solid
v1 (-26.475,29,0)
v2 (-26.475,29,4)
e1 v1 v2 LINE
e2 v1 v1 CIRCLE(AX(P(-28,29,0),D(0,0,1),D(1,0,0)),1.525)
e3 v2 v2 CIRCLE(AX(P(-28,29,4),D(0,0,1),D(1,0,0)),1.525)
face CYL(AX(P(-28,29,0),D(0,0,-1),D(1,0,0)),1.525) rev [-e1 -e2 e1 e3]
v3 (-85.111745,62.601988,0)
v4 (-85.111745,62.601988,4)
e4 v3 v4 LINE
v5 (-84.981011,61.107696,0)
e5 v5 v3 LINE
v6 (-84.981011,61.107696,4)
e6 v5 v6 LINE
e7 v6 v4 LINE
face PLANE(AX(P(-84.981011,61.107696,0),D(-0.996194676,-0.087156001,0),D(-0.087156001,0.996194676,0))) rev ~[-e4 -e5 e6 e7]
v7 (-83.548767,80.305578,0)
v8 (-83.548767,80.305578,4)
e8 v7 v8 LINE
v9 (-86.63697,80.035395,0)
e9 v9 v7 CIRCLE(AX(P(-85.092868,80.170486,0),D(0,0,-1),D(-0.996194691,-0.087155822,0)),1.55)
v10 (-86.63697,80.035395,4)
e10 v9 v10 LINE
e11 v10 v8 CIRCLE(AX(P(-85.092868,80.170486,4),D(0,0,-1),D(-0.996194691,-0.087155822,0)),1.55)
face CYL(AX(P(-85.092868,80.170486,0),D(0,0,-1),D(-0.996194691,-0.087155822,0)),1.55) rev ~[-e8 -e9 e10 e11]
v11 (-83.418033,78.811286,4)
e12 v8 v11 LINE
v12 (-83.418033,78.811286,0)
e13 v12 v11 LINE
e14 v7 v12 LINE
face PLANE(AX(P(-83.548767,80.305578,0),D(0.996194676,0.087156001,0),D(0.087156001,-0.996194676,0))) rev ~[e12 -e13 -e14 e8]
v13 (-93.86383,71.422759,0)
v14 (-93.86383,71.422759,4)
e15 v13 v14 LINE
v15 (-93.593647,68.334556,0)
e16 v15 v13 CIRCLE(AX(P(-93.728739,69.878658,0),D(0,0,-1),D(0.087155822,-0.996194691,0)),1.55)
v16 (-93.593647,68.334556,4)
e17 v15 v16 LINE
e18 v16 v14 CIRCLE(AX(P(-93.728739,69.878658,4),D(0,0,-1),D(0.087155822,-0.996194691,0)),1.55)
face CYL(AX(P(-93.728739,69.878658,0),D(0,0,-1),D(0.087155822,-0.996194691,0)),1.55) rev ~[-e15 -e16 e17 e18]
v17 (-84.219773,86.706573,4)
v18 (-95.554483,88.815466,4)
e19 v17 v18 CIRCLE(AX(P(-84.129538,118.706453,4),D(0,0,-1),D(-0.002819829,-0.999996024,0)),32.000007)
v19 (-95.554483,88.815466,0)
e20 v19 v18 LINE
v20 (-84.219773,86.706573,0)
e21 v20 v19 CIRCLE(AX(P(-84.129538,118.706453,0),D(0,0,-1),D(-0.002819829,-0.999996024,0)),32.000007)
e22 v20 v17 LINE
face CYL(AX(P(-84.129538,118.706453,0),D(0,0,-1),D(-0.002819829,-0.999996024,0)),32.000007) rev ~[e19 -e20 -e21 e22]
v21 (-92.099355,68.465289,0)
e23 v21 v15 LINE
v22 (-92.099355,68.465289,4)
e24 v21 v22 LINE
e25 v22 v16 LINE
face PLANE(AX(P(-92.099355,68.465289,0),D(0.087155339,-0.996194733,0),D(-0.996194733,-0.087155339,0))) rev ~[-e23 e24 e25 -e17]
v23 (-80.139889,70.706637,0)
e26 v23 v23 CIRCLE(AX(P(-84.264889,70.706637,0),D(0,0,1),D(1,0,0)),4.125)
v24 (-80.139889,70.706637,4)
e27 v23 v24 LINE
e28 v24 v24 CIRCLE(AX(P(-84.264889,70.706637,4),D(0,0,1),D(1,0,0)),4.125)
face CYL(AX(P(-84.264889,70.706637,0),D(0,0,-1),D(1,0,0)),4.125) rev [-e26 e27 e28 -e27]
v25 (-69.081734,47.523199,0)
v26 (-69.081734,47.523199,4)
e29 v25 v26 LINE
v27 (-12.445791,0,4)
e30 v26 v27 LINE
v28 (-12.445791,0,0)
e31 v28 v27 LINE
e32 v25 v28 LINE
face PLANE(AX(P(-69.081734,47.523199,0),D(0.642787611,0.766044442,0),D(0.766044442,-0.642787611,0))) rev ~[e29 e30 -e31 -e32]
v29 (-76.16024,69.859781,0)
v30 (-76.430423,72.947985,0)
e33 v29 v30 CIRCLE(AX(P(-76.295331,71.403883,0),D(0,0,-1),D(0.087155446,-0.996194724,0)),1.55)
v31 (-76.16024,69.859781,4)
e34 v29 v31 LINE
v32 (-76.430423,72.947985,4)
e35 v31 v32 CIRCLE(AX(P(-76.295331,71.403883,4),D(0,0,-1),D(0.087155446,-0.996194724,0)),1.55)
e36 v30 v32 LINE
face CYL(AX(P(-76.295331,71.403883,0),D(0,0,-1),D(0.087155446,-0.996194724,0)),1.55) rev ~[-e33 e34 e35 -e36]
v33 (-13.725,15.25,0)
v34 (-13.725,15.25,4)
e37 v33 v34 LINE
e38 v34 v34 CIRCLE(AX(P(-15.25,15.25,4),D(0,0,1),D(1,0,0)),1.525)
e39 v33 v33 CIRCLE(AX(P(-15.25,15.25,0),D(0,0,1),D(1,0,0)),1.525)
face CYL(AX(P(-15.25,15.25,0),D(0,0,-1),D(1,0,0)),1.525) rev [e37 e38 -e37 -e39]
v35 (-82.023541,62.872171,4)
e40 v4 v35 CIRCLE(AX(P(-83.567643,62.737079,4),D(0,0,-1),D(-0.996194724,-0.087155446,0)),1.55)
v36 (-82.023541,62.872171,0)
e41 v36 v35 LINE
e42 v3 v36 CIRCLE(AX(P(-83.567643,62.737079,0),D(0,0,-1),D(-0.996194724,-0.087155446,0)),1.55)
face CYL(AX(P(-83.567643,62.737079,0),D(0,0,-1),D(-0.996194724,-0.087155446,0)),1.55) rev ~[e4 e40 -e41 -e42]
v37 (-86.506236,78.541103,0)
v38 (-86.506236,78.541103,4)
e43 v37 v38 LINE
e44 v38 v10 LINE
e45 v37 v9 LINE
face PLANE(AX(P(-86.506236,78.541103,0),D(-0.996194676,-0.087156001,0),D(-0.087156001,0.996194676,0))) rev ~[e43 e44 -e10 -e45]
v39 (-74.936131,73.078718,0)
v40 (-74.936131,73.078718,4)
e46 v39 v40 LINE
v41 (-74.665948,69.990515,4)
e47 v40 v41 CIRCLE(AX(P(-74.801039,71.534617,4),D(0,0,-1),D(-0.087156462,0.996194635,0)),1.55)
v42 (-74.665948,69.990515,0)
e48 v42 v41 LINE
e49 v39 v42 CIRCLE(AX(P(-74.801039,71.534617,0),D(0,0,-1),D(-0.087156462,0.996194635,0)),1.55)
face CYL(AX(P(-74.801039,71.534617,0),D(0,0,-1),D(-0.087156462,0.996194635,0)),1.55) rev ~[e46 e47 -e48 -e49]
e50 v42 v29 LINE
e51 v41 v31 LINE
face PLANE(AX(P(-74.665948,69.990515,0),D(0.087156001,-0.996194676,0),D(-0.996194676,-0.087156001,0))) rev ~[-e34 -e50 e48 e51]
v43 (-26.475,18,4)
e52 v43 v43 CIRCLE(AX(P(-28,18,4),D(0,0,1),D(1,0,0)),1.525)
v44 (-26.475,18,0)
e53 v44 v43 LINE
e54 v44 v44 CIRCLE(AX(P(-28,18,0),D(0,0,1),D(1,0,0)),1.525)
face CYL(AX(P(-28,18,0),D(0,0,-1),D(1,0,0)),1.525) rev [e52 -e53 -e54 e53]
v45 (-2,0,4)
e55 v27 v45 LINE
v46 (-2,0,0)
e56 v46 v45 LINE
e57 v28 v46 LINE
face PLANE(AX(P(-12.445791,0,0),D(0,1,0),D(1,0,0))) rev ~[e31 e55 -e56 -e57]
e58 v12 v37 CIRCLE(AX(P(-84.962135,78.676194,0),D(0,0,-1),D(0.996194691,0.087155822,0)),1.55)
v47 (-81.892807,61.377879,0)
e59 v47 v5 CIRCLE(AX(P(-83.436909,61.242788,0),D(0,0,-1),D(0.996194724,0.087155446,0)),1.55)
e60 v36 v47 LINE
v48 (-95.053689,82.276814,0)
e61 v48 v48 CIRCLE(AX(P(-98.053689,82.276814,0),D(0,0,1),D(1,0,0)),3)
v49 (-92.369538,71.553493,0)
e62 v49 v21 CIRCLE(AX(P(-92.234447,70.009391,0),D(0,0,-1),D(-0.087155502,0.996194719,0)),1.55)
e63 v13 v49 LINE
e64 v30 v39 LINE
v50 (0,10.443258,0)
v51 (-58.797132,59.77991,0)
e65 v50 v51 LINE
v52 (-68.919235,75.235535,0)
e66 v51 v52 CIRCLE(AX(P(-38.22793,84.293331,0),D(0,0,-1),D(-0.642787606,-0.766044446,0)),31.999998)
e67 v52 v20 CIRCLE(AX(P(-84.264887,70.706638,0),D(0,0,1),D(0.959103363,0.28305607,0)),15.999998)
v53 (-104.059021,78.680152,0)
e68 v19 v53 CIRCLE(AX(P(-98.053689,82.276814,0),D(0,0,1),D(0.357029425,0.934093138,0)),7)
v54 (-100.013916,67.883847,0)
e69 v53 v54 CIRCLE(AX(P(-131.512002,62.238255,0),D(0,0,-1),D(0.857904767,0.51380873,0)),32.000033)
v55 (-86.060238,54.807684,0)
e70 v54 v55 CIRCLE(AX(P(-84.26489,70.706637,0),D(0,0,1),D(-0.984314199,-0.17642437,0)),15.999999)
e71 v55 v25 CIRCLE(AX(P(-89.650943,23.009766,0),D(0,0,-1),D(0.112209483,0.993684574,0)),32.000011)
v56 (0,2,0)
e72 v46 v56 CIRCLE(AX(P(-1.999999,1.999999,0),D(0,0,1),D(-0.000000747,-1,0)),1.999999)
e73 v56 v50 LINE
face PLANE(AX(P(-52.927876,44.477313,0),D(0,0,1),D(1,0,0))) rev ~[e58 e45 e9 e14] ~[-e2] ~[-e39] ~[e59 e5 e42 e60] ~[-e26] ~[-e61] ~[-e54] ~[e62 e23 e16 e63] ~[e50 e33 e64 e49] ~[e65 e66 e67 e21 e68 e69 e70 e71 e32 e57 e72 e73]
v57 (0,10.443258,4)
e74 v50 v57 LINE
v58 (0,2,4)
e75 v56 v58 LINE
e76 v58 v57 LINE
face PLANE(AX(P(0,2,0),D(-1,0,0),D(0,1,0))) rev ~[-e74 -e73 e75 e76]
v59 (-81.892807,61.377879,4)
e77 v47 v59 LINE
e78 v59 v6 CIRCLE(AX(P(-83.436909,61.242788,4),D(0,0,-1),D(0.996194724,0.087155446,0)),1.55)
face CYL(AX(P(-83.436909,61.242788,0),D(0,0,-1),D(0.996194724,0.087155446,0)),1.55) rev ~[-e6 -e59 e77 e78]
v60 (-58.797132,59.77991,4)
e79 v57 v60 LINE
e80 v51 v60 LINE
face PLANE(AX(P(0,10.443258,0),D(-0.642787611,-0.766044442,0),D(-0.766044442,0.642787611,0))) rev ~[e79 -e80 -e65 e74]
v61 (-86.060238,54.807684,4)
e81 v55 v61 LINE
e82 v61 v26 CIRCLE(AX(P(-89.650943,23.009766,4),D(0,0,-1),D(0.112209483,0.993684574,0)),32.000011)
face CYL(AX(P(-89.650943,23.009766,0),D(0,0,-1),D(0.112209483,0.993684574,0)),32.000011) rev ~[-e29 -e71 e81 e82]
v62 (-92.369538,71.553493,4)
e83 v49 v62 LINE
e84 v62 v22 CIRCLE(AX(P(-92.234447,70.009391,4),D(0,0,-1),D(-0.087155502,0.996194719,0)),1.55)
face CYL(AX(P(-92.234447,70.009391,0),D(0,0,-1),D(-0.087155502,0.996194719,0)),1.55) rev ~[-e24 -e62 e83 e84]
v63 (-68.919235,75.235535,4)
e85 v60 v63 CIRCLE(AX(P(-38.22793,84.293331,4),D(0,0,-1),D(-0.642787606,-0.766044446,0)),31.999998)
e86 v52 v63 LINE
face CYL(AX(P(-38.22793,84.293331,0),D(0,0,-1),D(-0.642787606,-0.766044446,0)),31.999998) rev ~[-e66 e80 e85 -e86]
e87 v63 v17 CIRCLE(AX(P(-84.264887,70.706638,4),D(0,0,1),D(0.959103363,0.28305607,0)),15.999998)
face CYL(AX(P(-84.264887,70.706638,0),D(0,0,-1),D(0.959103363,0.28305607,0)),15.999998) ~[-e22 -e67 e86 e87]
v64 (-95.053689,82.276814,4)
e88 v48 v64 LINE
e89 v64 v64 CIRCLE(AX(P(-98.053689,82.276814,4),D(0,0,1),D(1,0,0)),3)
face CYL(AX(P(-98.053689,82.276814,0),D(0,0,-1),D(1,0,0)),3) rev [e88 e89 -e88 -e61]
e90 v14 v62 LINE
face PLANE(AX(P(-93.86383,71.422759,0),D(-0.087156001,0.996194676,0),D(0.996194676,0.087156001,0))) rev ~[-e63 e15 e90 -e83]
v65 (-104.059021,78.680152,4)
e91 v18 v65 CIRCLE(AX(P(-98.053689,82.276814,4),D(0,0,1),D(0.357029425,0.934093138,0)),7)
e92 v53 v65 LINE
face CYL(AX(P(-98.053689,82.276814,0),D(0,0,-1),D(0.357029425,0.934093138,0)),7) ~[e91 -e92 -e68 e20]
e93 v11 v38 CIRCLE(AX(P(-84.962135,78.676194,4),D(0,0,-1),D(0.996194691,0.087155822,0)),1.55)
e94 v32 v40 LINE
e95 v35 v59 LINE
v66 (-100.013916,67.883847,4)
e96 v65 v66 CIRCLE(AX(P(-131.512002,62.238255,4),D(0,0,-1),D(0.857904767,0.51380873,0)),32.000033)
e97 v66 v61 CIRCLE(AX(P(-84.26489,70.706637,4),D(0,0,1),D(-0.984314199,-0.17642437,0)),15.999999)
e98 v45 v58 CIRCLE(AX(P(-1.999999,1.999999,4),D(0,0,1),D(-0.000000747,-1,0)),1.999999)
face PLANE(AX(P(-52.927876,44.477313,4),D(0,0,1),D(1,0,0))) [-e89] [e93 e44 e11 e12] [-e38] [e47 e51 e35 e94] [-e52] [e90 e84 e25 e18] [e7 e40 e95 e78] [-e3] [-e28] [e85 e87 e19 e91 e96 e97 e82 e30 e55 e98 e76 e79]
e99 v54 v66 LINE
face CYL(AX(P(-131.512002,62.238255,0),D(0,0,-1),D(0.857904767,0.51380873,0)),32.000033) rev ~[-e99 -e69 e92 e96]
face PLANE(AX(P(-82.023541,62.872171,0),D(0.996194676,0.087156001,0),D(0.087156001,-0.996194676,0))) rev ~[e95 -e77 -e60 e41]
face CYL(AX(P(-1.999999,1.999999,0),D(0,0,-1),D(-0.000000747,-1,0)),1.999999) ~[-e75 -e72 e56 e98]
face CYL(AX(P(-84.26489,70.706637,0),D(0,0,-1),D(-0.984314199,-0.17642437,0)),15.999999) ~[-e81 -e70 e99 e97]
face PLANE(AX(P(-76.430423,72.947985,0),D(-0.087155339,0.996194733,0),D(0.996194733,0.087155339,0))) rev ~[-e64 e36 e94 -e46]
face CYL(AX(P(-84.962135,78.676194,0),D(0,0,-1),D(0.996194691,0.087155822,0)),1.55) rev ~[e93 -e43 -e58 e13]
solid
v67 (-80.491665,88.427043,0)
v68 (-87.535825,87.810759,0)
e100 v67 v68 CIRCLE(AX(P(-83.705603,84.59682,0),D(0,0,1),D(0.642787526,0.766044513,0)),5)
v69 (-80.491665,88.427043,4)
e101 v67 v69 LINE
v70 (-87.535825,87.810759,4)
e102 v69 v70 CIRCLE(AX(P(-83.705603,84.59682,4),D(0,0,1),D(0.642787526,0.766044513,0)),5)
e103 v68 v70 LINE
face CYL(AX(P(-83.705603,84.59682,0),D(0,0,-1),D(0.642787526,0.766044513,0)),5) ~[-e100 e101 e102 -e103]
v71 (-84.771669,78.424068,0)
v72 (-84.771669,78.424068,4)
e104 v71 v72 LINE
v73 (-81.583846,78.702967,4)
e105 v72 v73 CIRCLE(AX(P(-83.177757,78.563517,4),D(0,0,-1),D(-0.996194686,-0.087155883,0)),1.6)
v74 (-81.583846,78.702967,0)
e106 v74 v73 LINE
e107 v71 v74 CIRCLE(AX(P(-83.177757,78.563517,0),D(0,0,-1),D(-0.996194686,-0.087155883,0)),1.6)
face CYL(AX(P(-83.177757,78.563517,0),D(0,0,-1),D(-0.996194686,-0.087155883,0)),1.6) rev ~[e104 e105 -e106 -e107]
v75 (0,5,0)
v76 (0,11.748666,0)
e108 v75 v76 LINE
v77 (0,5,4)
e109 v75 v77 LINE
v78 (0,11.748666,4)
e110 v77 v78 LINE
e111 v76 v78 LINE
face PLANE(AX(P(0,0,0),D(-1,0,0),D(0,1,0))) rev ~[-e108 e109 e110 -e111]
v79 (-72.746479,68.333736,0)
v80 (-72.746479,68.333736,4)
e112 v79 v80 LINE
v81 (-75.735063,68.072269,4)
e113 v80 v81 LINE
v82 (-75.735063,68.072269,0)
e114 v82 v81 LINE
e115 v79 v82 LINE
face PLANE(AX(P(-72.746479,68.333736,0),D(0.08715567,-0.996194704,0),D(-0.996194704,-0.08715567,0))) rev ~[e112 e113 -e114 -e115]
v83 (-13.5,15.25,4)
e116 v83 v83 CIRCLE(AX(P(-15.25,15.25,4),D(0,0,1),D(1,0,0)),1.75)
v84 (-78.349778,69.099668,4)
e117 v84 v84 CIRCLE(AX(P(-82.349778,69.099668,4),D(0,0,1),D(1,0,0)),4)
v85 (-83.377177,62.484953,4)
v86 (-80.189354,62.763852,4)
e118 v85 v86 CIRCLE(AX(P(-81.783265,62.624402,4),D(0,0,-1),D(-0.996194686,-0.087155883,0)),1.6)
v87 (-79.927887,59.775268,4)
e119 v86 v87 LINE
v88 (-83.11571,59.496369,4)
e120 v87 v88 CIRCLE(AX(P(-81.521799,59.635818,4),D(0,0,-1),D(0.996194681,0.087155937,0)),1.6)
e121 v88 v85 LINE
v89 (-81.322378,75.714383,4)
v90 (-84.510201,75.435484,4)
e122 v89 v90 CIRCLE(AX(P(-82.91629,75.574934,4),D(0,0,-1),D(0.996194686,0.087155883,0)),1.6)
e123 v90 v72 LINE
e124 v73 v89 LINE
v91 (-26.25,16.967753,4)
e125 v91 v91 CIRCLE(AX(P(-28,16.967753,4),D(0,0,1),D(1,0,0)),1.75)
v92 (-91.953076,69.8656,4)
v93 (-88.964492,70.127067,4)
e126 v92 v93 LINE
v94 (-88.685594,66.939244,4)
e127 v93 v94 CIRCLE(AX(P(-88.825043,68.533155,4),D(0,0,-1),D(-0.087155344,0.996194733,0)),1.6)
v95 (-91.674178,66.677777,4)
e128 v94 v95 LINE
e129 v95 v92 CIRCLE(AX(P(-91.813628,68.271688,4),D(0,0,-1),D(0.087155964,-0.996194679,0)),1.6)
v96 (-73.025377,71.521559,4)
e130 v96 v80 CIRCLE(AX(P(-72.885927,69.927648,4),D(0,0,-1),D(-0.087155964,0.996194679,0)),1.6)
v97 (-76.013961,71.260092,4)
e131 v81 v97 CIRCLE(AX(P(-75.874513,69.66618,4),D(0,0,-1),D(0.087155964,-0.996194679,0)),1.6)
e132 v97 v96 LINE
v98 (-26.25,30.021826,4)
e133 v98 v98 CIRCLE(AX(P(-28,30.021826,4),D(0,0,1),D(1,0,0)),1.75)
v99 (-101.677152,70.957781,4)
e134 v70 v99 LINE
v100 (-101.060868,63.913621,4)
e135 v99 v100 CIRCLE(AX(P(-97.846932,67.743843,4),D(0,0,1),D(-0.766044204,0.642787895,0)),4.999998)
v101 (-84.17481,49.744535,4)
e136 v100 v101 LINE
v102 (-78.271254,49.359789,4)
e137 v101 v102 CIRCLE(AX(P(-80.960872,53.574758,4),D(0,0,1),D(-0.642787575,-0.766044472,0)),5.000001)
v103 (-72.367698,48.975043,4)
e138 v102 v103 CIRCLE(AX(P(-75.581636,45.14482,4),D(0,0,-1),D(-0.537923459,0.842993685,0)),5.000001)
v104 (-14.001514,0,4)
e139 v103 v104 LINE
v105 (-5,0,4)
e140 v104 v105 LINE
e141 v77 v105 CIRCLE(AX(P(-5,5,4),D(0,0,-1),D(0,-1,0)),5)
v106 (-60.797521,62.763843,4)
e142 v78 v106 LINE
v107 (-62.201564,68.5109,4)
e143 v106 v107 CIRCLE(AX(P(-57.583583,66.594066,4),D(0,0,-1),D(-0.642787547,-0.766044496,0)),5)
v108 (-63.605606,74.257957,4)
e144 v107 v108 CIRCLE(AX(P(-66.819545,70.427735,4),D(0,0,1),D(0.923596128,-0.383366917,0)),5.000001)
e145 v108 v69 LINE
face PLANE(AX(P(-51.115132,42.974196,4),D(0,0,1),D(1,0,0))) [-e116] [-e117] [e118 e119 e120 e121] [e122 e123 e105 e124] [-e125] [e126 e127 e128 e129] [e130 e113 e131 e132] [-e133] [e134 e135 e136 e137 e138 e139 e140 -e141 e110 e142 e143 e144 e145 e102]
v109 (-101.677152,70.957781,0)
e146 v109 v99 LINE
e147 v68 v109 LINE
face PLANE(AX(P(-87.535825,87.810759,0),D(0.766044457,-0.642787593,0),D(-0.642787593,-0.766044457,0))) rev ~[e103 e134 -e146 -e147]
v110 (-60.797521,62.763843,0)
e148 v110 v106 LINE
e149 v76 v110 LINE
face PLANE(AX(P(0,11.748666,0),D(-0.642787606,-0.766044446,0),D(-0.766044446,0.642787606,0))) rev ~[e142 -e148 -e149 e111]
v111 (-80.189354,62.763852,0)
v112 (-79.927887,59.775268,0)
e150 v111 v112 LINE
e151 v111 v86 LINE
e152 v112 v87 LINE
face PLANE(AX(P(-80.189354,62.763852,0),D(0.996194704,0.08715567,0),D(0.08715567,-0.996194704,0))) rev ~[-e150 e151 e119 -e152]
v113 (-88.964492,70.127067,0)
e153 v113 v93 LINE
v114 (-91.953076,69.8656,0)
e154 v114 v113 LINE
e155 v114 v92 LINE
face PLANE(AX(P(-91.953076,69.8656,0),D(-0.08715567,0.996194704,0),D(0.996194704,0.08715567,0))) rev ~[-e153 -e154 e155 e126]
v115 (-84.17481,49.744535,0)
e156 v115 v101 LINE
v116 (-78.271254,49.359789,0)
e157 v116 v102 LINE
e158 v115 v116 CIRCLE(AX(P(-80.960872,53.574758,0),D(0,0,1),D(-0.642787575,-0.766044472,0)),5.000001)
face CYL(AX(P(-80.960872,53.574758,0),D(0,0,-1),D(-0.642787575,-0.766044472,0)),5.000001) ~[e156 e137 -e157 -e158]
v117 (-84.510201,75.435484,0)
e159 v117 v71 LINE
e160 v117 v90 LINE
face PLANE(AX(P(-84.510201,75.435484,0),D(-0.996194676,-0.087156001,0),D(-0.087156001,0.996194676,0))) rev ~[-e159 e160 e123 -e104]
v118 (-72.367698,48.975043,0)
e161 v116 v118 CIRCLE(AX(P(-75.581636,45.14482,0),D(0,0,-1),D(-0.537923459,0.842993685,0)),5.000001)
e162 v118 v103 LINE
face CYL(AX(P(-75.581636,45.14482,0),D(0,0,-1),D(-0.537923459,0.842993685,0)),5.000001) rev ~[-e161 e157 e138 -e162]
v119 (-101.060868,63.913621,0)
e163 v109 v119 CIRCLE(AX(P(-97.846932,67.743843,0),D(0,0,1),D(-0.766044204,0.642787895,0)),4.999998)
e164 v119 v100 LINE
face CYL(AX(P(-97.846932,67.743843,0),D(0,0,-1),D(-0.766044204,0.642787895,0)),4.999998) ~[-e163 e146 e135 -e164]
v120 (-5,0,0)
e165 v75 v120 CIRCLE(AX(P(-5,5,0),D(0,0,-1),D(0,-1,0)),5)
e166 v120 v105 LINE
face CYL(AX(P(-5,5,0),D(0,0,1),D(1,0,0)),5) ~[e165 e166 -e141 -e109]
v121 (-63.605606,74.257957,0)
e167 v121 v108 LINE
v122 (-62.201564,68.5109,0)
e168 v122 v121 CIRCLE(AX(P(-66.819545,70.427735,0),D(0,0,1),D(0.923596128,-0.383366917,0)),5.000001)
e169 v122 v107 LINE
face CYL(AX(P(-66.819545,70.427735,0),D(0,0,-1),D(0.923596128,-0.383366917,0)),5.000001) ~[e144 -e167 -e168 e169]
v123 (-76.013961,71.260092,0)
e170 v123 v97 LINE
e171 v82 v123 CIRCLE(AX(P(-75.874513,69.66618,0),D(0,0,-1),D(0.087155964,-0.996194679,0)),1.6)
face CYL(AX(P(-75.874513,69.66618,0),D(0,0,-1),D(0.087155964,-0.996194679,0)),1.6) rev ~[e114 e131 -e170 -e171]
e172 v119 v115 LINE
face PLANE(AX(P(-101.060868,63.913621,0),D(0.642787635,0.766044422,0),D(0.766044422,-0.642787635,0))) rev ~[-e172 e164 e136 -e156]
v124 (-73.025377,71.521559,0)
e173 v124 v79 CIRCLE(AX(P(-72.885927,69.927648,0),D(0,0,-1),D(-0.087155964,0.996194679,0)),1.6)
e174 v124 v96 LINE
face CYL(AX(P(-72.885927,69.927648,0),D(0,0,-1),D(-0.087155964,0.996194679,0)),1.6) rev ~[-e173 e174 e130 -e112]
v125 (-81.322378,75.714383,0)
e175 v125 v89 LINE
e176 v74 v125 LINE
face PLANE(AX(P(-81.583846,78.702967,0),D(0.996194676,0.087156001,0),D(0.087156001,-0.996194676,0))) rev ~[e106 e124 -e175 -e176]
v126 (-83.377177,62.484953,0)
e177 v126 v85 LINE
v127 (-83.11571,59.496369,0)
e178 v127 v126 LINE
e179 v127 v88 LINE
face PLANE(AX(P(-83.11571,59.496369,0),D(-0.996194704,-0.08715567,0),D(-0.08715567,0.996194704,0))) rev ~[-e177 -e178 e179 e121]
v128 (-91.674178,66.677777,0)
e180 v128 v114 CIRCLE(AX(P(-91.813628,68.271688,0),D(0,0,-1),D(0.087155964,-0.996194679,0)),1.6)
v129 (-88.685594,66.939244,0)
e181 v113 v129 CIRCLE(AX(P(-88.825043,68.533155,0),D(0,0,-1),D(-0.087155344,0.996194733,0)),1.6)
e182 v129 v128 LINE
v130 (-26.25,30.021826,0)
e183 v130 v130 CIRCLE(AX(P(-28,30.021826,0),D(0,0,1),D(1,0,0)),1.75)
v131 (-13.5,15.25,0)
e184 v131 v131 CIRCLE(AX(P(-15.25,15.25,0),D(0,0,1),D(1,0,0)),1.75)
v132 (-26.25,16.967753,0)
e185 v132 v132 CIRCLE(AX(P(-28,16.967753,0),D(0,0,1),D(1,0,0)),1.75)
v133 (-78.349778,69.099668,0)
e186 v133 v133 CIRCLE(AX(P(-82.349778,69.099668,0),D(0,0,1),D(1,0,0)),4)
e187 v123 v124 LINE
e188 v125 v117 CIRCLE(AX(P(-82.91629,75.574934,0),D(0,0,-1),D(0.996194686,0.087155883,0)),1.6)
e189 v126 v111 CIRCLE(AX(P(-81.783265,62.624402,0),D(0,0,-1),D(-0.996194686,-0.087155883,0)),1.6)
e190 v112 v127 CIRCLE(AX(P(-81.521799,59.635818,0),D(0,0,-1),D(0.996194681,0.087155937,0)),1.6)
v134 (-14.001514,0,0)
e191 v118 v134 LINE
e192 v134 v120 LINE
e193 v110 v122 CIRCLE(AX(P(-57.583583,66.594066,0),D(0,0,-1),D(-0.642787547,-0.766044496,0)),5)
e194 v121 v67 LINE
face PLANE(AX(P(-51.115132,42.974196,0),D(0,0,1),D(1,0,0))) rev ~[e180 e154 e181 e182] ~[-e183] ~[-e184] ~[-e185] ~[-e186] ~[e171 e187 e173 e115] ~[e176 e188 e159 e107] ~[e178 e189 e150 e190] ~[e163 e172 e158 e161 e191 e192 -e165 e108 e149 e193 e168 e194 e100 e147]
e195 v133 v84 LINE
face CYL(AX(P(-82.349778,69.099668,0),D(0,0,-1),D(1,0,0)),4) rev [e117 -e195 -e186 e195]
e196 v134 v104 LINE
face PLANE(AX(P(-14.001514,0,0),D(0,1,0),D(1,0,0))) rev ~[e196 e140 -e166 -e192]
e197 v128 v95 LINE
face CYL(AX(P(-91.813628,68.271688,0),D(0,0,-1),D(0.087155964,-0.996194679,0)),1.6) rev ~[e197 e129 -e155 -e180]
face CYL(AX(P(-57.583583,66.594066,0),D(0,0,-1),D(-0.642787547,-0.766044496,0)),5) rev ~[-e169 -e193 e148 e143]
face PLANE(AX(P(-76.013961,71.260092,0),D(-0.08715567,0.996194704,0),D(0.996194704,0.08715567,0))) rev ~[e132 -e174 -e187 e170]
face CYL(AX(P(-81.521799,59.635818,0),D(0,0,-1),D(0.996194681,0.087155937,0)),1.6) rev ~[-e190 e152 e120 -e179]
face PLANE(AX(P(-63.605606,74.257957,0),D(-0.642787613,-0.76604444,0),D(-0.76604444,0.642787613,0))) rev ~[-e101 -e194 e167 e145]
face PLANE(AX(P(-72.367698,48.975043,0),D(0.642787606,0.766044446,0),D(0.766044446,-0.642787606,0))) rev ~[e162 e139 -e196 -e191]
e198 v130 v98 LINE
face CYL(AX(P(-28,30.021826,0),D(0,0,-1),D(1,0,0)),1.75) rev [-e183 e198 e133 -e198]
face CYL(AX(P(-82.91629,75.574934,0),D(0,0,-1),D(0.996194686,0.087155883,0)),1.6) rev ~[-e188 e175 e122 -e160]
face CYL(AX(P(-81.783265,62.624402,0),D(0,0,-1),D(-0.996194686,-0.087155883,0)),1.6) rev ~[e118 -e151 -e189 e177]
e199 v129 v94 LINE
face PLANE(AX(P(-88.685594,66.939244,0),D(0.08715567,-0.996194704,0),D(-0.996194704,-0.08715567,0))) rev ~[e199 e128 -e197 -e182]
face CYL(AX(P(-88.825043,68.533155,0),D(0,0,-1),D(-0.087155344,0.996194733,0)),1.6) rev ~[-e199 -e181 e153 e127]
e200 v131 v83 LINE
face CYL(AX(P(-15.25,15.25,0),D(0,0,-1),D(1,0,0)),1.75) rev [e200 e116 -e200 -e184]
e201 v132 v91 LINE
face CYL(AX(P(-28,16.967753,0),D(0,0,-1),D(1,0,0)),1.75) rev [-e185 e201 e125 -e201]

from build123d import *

# Parameters (mm, degrees)
F0_R     = 1.75
F0_R_2   = 4
F1_DEPTH = 4
F2_R     = 5
F3_R     = 1.525
F3_R_2   = 4.125
F3_R_3   = 3
F4_DEPTH = 4


with BuildPart() as f1:
    # F0 (on Top) → F1 (new body)
    with BuildSketch(Plane.XY):
        with BuildLine():
            Line((0, 11.748666), (-60.797521, 62.763843))
            ThreePointArc((-60.797521, 62.763843), (-62.440733, 65.407433), (-62.201564, 68.5109))
            ThreePointArc((-62.201564, 68.5109), (-61.962395, 71.614368), (-63.605606, 74.257957))
            Line((-63.605606, 74.257957), (-80.491665, 88.427043))
            ThreePointArc((-80.491665, 88.427043), (-84.141382, 89.577794), (-87.535825, 87.810759))
            Line((-87.535825, 87.810759), (-101.677152, 70.957781))
            ThreePointArc((-101.677152, 70.957781), (-102.827904, 67.308064), (-101.060868, 63.913621))
            Line((-101.060868, 63.913621), (-84.17481, 49.744535))
            ThreePointArc((-84.17481, 49.744535), (-81.286042, 48.585342), (-78.271254, 49.359789))
            ThreePointArc((-78.271254, 49.359789), (-75.256467, 50.134236), (-72.367698, 48.975043))
            Line((-72.367698, 48.975043), (-14.001514, 0))
            Line((-14.001514, 0), (0, 0))
            Line((0, 0), (0, 11.748666))
        make_face()
        with Locations((-28, 16.967753)):
            Circle(F0_R, mode=Mode.SUBTRACT)
        with Locations((-15.25, 15.25)):
            Circle(F0_R, mode=Mode.SUBTRACT)
        with Locations((-28, 30.021826)):
            Circle(F0_R, mode=Mode.SUBTRACT)
        with BuildLine():
            ThreePointArc((-79.927887, 59.775268), (-81.382349, 58.041907), (-83.11571, 59.496369))
            Line((-83.11571, 59.496369), (-83.377177, 62.484953))
            ThreePointArc((-83.377177, 62.484953), (-81.922714, 64.218314), (-80.189354, 62.763852))
            Line((-80.189354, 62.763852), (-79.927887, 59.775268))
        make_face(mode=Mode.SUBTRACT)
        with BuildLine():
            ThreePointArc((-91.674178, 66.677777), (-93.407539, 68.132239), (-91.953076, 69.8656))
            Line((-91.953076, 69.8656), (-88.964492, 70.127067))
            ThreePointArc((-88.964492, 70.127067), (-87.231132, 68.672605), (-88.685594, 66.939244))
            Line((-88.685594, 66.939244), (-91.674178, 66.677777))
        make_face(mode=Mode.SUBTRACT)
        with Locations((-82.349778, 69.099668)):
            Circle(F0_R_2, mode=Mode.SUBTRACT)
        with BuildLine():
            Line((-84.510201, 75.435484), (-84.771669, 78.424068))
            ThreePointArc((-84.771669, 78.424068), (-83.317206, 80.157429), (-81.583846, 78.702967))
            Line((-81.583846, 78.702967), (-81.322378, 75.714383))
            ThreePointArc((-81.322378, 75.714383), (-82.776841, 73.981022), (-84.510201, 75.435484))
        make_face(mode=Mode.SUBTRACT)
        with BuildLine():
            ThreePointArc((-73.025377, 71.521559), (-71.292016, 70.067097), (-72.746479, 68.333736))
            Line((-72.746479, 68.333736), (-75.735063, 68.072269))
            ThreePointArc((-75.735063, 68.072269), (-77.468424, 69.526731), (-76.013961, 71.260092))
            Line((-76.013961, 71.260092), (-73.025377, 71.521559))
        make_face(mode=Mode.SUBTRACT)
    extrude(amount=F1_DEPTH)

    # F2
    f2_edges = [f1.edges().sort_by_distance(p)[0] for p in [
        (0, 0, 2),
    ]]
    fillet(f2_edges, radius=F2_R)


with BuildPart() as f4:
    # F3 (on Top) → F4 (new body)
    with BuildSketch(Plane.XY):
        with BuildLine():
            ThreePointArc((-58.797132, 59.77991), (-64.997857, 66.761335), (-68.919235, 75.235535))
            ThreePointArc((-68.919235, 75.235535), (-74.667226, 83.50839), (-84.219773, 86.706573))
            ThreePointArc((-84.219773, 86.706573), (-89.982887, 87.246339), (-95.554483, 88.815466))
            ThreePointArc((-95.554483, 88.815466), (-103.416, 86.776327), (-104.059021, 78.680152))
            ThreePointArc((-104.059021, 78.680152), (-101.546236, 73.465677), (-100.013916, 67.883847))
            ThreePointArc((-100.013916, 67.883847), (-95.205538, 59.031784), (-86.060238, 54.807684))
            ThreePointArc((-86.060238, 54.807684), (-77.03384, 52.417409), (-69.081734, 47.523199))
            Line((-69.081734, 47.523199), (-12.445791, 0))
            Line((-12.445791, 0), (-2, 0))
            ThreePointArc((-2, 0), (-0.585786, 0.585786), (0, 2))
            Line((0, 2), (0, 10.443258))
            Line((0, 10.443258), (-58.797132, 59.77991))
        make_face()
        with Locations((-28, 18)):
            Circle(F3_R, mode=Mode.SUBTRACT)
        with Locations((-15.25, 15.25)):
            Circle(F3_R, mode=Mode.SUBTRACT)
        with Locations((-28, 29)):
            Circle(F3_R, mode=Mode.SUBTRACT)
        with BuildLine():
            ThreePointArc((-85.111745, 62.601988), (-83.702734, 64.281181), (-82.023541, 62.872171))
            Line((-82.023541, 62.872171), (-81.892807, 61.377879))
            ThreePointArc((-81.892807, 61.377879), (-83.301818, 59.698686), (-84.981011, 61.107696))
            Line((-84.981011, 61.107696), (-85.111745, 62.601988))
        make_face(mode=Mode.SUBTRACT)
        with BuildLine():
            ThreePointArc((-92.369538, 71.553493), (-90.690345, 70.144483), (-92.099355, 68.465289))
            Line((-92.099355, 68.465289), (-93.593647, 68.334556))
            ThreePointArc((-93.593647, 68.334556), (-95.27284, 69.743566), (-93.86383, 71.422759))
            Line((-93.86383, 71.422759), (-92.369538, 71.553493))
        make_face(mode=Mode.SUBTRACT)
        with Locations((-84.264889, 70.706637)):
            Circle(F3_R_2, mode=Mode.SUBTRACT)
        with Locations((-98.053689, 82.276814)):
            Circle(F3_R_3, mode=Mode.SUBTRACT)
        with BuildLine():
            ThreePointArc((-83.418033, 78.811286), (-84.827043, 77.132093), (-86.506236, 78.541103))
            Line((-86.506236, 78.541103), (-86.63697, 80.035395))
            ThreePointArc((-86.63697, 80.035395), (-85.22796, 81.714588), (-83.548767, 80.305578))
            Line((-83.548767, 80.305578), (-83.418033, 78.811286))
        make_face(mode=Mode.SUBTRACT)
        with BuildLine():
            Line((-74.665948, 69.990515), (-76.16024, 69.859781))
            ThreePointArc((-76.16024, 69.859781), (-77.839433, 71.268792), (-76.430423, 72.947985))
            Line((-76.430423, 72.947985), (-74.936131, 73.078718))
            ThreePointArc((-74.936131, 73.078718), (-73.256937, 71.669708), (-74.665948, 69.990515))
        make_face(mode=Mode.SUBTRACT)
    extrude(amount=F4_DEPTH)


solid = Compound([f1.part, f4.part])
